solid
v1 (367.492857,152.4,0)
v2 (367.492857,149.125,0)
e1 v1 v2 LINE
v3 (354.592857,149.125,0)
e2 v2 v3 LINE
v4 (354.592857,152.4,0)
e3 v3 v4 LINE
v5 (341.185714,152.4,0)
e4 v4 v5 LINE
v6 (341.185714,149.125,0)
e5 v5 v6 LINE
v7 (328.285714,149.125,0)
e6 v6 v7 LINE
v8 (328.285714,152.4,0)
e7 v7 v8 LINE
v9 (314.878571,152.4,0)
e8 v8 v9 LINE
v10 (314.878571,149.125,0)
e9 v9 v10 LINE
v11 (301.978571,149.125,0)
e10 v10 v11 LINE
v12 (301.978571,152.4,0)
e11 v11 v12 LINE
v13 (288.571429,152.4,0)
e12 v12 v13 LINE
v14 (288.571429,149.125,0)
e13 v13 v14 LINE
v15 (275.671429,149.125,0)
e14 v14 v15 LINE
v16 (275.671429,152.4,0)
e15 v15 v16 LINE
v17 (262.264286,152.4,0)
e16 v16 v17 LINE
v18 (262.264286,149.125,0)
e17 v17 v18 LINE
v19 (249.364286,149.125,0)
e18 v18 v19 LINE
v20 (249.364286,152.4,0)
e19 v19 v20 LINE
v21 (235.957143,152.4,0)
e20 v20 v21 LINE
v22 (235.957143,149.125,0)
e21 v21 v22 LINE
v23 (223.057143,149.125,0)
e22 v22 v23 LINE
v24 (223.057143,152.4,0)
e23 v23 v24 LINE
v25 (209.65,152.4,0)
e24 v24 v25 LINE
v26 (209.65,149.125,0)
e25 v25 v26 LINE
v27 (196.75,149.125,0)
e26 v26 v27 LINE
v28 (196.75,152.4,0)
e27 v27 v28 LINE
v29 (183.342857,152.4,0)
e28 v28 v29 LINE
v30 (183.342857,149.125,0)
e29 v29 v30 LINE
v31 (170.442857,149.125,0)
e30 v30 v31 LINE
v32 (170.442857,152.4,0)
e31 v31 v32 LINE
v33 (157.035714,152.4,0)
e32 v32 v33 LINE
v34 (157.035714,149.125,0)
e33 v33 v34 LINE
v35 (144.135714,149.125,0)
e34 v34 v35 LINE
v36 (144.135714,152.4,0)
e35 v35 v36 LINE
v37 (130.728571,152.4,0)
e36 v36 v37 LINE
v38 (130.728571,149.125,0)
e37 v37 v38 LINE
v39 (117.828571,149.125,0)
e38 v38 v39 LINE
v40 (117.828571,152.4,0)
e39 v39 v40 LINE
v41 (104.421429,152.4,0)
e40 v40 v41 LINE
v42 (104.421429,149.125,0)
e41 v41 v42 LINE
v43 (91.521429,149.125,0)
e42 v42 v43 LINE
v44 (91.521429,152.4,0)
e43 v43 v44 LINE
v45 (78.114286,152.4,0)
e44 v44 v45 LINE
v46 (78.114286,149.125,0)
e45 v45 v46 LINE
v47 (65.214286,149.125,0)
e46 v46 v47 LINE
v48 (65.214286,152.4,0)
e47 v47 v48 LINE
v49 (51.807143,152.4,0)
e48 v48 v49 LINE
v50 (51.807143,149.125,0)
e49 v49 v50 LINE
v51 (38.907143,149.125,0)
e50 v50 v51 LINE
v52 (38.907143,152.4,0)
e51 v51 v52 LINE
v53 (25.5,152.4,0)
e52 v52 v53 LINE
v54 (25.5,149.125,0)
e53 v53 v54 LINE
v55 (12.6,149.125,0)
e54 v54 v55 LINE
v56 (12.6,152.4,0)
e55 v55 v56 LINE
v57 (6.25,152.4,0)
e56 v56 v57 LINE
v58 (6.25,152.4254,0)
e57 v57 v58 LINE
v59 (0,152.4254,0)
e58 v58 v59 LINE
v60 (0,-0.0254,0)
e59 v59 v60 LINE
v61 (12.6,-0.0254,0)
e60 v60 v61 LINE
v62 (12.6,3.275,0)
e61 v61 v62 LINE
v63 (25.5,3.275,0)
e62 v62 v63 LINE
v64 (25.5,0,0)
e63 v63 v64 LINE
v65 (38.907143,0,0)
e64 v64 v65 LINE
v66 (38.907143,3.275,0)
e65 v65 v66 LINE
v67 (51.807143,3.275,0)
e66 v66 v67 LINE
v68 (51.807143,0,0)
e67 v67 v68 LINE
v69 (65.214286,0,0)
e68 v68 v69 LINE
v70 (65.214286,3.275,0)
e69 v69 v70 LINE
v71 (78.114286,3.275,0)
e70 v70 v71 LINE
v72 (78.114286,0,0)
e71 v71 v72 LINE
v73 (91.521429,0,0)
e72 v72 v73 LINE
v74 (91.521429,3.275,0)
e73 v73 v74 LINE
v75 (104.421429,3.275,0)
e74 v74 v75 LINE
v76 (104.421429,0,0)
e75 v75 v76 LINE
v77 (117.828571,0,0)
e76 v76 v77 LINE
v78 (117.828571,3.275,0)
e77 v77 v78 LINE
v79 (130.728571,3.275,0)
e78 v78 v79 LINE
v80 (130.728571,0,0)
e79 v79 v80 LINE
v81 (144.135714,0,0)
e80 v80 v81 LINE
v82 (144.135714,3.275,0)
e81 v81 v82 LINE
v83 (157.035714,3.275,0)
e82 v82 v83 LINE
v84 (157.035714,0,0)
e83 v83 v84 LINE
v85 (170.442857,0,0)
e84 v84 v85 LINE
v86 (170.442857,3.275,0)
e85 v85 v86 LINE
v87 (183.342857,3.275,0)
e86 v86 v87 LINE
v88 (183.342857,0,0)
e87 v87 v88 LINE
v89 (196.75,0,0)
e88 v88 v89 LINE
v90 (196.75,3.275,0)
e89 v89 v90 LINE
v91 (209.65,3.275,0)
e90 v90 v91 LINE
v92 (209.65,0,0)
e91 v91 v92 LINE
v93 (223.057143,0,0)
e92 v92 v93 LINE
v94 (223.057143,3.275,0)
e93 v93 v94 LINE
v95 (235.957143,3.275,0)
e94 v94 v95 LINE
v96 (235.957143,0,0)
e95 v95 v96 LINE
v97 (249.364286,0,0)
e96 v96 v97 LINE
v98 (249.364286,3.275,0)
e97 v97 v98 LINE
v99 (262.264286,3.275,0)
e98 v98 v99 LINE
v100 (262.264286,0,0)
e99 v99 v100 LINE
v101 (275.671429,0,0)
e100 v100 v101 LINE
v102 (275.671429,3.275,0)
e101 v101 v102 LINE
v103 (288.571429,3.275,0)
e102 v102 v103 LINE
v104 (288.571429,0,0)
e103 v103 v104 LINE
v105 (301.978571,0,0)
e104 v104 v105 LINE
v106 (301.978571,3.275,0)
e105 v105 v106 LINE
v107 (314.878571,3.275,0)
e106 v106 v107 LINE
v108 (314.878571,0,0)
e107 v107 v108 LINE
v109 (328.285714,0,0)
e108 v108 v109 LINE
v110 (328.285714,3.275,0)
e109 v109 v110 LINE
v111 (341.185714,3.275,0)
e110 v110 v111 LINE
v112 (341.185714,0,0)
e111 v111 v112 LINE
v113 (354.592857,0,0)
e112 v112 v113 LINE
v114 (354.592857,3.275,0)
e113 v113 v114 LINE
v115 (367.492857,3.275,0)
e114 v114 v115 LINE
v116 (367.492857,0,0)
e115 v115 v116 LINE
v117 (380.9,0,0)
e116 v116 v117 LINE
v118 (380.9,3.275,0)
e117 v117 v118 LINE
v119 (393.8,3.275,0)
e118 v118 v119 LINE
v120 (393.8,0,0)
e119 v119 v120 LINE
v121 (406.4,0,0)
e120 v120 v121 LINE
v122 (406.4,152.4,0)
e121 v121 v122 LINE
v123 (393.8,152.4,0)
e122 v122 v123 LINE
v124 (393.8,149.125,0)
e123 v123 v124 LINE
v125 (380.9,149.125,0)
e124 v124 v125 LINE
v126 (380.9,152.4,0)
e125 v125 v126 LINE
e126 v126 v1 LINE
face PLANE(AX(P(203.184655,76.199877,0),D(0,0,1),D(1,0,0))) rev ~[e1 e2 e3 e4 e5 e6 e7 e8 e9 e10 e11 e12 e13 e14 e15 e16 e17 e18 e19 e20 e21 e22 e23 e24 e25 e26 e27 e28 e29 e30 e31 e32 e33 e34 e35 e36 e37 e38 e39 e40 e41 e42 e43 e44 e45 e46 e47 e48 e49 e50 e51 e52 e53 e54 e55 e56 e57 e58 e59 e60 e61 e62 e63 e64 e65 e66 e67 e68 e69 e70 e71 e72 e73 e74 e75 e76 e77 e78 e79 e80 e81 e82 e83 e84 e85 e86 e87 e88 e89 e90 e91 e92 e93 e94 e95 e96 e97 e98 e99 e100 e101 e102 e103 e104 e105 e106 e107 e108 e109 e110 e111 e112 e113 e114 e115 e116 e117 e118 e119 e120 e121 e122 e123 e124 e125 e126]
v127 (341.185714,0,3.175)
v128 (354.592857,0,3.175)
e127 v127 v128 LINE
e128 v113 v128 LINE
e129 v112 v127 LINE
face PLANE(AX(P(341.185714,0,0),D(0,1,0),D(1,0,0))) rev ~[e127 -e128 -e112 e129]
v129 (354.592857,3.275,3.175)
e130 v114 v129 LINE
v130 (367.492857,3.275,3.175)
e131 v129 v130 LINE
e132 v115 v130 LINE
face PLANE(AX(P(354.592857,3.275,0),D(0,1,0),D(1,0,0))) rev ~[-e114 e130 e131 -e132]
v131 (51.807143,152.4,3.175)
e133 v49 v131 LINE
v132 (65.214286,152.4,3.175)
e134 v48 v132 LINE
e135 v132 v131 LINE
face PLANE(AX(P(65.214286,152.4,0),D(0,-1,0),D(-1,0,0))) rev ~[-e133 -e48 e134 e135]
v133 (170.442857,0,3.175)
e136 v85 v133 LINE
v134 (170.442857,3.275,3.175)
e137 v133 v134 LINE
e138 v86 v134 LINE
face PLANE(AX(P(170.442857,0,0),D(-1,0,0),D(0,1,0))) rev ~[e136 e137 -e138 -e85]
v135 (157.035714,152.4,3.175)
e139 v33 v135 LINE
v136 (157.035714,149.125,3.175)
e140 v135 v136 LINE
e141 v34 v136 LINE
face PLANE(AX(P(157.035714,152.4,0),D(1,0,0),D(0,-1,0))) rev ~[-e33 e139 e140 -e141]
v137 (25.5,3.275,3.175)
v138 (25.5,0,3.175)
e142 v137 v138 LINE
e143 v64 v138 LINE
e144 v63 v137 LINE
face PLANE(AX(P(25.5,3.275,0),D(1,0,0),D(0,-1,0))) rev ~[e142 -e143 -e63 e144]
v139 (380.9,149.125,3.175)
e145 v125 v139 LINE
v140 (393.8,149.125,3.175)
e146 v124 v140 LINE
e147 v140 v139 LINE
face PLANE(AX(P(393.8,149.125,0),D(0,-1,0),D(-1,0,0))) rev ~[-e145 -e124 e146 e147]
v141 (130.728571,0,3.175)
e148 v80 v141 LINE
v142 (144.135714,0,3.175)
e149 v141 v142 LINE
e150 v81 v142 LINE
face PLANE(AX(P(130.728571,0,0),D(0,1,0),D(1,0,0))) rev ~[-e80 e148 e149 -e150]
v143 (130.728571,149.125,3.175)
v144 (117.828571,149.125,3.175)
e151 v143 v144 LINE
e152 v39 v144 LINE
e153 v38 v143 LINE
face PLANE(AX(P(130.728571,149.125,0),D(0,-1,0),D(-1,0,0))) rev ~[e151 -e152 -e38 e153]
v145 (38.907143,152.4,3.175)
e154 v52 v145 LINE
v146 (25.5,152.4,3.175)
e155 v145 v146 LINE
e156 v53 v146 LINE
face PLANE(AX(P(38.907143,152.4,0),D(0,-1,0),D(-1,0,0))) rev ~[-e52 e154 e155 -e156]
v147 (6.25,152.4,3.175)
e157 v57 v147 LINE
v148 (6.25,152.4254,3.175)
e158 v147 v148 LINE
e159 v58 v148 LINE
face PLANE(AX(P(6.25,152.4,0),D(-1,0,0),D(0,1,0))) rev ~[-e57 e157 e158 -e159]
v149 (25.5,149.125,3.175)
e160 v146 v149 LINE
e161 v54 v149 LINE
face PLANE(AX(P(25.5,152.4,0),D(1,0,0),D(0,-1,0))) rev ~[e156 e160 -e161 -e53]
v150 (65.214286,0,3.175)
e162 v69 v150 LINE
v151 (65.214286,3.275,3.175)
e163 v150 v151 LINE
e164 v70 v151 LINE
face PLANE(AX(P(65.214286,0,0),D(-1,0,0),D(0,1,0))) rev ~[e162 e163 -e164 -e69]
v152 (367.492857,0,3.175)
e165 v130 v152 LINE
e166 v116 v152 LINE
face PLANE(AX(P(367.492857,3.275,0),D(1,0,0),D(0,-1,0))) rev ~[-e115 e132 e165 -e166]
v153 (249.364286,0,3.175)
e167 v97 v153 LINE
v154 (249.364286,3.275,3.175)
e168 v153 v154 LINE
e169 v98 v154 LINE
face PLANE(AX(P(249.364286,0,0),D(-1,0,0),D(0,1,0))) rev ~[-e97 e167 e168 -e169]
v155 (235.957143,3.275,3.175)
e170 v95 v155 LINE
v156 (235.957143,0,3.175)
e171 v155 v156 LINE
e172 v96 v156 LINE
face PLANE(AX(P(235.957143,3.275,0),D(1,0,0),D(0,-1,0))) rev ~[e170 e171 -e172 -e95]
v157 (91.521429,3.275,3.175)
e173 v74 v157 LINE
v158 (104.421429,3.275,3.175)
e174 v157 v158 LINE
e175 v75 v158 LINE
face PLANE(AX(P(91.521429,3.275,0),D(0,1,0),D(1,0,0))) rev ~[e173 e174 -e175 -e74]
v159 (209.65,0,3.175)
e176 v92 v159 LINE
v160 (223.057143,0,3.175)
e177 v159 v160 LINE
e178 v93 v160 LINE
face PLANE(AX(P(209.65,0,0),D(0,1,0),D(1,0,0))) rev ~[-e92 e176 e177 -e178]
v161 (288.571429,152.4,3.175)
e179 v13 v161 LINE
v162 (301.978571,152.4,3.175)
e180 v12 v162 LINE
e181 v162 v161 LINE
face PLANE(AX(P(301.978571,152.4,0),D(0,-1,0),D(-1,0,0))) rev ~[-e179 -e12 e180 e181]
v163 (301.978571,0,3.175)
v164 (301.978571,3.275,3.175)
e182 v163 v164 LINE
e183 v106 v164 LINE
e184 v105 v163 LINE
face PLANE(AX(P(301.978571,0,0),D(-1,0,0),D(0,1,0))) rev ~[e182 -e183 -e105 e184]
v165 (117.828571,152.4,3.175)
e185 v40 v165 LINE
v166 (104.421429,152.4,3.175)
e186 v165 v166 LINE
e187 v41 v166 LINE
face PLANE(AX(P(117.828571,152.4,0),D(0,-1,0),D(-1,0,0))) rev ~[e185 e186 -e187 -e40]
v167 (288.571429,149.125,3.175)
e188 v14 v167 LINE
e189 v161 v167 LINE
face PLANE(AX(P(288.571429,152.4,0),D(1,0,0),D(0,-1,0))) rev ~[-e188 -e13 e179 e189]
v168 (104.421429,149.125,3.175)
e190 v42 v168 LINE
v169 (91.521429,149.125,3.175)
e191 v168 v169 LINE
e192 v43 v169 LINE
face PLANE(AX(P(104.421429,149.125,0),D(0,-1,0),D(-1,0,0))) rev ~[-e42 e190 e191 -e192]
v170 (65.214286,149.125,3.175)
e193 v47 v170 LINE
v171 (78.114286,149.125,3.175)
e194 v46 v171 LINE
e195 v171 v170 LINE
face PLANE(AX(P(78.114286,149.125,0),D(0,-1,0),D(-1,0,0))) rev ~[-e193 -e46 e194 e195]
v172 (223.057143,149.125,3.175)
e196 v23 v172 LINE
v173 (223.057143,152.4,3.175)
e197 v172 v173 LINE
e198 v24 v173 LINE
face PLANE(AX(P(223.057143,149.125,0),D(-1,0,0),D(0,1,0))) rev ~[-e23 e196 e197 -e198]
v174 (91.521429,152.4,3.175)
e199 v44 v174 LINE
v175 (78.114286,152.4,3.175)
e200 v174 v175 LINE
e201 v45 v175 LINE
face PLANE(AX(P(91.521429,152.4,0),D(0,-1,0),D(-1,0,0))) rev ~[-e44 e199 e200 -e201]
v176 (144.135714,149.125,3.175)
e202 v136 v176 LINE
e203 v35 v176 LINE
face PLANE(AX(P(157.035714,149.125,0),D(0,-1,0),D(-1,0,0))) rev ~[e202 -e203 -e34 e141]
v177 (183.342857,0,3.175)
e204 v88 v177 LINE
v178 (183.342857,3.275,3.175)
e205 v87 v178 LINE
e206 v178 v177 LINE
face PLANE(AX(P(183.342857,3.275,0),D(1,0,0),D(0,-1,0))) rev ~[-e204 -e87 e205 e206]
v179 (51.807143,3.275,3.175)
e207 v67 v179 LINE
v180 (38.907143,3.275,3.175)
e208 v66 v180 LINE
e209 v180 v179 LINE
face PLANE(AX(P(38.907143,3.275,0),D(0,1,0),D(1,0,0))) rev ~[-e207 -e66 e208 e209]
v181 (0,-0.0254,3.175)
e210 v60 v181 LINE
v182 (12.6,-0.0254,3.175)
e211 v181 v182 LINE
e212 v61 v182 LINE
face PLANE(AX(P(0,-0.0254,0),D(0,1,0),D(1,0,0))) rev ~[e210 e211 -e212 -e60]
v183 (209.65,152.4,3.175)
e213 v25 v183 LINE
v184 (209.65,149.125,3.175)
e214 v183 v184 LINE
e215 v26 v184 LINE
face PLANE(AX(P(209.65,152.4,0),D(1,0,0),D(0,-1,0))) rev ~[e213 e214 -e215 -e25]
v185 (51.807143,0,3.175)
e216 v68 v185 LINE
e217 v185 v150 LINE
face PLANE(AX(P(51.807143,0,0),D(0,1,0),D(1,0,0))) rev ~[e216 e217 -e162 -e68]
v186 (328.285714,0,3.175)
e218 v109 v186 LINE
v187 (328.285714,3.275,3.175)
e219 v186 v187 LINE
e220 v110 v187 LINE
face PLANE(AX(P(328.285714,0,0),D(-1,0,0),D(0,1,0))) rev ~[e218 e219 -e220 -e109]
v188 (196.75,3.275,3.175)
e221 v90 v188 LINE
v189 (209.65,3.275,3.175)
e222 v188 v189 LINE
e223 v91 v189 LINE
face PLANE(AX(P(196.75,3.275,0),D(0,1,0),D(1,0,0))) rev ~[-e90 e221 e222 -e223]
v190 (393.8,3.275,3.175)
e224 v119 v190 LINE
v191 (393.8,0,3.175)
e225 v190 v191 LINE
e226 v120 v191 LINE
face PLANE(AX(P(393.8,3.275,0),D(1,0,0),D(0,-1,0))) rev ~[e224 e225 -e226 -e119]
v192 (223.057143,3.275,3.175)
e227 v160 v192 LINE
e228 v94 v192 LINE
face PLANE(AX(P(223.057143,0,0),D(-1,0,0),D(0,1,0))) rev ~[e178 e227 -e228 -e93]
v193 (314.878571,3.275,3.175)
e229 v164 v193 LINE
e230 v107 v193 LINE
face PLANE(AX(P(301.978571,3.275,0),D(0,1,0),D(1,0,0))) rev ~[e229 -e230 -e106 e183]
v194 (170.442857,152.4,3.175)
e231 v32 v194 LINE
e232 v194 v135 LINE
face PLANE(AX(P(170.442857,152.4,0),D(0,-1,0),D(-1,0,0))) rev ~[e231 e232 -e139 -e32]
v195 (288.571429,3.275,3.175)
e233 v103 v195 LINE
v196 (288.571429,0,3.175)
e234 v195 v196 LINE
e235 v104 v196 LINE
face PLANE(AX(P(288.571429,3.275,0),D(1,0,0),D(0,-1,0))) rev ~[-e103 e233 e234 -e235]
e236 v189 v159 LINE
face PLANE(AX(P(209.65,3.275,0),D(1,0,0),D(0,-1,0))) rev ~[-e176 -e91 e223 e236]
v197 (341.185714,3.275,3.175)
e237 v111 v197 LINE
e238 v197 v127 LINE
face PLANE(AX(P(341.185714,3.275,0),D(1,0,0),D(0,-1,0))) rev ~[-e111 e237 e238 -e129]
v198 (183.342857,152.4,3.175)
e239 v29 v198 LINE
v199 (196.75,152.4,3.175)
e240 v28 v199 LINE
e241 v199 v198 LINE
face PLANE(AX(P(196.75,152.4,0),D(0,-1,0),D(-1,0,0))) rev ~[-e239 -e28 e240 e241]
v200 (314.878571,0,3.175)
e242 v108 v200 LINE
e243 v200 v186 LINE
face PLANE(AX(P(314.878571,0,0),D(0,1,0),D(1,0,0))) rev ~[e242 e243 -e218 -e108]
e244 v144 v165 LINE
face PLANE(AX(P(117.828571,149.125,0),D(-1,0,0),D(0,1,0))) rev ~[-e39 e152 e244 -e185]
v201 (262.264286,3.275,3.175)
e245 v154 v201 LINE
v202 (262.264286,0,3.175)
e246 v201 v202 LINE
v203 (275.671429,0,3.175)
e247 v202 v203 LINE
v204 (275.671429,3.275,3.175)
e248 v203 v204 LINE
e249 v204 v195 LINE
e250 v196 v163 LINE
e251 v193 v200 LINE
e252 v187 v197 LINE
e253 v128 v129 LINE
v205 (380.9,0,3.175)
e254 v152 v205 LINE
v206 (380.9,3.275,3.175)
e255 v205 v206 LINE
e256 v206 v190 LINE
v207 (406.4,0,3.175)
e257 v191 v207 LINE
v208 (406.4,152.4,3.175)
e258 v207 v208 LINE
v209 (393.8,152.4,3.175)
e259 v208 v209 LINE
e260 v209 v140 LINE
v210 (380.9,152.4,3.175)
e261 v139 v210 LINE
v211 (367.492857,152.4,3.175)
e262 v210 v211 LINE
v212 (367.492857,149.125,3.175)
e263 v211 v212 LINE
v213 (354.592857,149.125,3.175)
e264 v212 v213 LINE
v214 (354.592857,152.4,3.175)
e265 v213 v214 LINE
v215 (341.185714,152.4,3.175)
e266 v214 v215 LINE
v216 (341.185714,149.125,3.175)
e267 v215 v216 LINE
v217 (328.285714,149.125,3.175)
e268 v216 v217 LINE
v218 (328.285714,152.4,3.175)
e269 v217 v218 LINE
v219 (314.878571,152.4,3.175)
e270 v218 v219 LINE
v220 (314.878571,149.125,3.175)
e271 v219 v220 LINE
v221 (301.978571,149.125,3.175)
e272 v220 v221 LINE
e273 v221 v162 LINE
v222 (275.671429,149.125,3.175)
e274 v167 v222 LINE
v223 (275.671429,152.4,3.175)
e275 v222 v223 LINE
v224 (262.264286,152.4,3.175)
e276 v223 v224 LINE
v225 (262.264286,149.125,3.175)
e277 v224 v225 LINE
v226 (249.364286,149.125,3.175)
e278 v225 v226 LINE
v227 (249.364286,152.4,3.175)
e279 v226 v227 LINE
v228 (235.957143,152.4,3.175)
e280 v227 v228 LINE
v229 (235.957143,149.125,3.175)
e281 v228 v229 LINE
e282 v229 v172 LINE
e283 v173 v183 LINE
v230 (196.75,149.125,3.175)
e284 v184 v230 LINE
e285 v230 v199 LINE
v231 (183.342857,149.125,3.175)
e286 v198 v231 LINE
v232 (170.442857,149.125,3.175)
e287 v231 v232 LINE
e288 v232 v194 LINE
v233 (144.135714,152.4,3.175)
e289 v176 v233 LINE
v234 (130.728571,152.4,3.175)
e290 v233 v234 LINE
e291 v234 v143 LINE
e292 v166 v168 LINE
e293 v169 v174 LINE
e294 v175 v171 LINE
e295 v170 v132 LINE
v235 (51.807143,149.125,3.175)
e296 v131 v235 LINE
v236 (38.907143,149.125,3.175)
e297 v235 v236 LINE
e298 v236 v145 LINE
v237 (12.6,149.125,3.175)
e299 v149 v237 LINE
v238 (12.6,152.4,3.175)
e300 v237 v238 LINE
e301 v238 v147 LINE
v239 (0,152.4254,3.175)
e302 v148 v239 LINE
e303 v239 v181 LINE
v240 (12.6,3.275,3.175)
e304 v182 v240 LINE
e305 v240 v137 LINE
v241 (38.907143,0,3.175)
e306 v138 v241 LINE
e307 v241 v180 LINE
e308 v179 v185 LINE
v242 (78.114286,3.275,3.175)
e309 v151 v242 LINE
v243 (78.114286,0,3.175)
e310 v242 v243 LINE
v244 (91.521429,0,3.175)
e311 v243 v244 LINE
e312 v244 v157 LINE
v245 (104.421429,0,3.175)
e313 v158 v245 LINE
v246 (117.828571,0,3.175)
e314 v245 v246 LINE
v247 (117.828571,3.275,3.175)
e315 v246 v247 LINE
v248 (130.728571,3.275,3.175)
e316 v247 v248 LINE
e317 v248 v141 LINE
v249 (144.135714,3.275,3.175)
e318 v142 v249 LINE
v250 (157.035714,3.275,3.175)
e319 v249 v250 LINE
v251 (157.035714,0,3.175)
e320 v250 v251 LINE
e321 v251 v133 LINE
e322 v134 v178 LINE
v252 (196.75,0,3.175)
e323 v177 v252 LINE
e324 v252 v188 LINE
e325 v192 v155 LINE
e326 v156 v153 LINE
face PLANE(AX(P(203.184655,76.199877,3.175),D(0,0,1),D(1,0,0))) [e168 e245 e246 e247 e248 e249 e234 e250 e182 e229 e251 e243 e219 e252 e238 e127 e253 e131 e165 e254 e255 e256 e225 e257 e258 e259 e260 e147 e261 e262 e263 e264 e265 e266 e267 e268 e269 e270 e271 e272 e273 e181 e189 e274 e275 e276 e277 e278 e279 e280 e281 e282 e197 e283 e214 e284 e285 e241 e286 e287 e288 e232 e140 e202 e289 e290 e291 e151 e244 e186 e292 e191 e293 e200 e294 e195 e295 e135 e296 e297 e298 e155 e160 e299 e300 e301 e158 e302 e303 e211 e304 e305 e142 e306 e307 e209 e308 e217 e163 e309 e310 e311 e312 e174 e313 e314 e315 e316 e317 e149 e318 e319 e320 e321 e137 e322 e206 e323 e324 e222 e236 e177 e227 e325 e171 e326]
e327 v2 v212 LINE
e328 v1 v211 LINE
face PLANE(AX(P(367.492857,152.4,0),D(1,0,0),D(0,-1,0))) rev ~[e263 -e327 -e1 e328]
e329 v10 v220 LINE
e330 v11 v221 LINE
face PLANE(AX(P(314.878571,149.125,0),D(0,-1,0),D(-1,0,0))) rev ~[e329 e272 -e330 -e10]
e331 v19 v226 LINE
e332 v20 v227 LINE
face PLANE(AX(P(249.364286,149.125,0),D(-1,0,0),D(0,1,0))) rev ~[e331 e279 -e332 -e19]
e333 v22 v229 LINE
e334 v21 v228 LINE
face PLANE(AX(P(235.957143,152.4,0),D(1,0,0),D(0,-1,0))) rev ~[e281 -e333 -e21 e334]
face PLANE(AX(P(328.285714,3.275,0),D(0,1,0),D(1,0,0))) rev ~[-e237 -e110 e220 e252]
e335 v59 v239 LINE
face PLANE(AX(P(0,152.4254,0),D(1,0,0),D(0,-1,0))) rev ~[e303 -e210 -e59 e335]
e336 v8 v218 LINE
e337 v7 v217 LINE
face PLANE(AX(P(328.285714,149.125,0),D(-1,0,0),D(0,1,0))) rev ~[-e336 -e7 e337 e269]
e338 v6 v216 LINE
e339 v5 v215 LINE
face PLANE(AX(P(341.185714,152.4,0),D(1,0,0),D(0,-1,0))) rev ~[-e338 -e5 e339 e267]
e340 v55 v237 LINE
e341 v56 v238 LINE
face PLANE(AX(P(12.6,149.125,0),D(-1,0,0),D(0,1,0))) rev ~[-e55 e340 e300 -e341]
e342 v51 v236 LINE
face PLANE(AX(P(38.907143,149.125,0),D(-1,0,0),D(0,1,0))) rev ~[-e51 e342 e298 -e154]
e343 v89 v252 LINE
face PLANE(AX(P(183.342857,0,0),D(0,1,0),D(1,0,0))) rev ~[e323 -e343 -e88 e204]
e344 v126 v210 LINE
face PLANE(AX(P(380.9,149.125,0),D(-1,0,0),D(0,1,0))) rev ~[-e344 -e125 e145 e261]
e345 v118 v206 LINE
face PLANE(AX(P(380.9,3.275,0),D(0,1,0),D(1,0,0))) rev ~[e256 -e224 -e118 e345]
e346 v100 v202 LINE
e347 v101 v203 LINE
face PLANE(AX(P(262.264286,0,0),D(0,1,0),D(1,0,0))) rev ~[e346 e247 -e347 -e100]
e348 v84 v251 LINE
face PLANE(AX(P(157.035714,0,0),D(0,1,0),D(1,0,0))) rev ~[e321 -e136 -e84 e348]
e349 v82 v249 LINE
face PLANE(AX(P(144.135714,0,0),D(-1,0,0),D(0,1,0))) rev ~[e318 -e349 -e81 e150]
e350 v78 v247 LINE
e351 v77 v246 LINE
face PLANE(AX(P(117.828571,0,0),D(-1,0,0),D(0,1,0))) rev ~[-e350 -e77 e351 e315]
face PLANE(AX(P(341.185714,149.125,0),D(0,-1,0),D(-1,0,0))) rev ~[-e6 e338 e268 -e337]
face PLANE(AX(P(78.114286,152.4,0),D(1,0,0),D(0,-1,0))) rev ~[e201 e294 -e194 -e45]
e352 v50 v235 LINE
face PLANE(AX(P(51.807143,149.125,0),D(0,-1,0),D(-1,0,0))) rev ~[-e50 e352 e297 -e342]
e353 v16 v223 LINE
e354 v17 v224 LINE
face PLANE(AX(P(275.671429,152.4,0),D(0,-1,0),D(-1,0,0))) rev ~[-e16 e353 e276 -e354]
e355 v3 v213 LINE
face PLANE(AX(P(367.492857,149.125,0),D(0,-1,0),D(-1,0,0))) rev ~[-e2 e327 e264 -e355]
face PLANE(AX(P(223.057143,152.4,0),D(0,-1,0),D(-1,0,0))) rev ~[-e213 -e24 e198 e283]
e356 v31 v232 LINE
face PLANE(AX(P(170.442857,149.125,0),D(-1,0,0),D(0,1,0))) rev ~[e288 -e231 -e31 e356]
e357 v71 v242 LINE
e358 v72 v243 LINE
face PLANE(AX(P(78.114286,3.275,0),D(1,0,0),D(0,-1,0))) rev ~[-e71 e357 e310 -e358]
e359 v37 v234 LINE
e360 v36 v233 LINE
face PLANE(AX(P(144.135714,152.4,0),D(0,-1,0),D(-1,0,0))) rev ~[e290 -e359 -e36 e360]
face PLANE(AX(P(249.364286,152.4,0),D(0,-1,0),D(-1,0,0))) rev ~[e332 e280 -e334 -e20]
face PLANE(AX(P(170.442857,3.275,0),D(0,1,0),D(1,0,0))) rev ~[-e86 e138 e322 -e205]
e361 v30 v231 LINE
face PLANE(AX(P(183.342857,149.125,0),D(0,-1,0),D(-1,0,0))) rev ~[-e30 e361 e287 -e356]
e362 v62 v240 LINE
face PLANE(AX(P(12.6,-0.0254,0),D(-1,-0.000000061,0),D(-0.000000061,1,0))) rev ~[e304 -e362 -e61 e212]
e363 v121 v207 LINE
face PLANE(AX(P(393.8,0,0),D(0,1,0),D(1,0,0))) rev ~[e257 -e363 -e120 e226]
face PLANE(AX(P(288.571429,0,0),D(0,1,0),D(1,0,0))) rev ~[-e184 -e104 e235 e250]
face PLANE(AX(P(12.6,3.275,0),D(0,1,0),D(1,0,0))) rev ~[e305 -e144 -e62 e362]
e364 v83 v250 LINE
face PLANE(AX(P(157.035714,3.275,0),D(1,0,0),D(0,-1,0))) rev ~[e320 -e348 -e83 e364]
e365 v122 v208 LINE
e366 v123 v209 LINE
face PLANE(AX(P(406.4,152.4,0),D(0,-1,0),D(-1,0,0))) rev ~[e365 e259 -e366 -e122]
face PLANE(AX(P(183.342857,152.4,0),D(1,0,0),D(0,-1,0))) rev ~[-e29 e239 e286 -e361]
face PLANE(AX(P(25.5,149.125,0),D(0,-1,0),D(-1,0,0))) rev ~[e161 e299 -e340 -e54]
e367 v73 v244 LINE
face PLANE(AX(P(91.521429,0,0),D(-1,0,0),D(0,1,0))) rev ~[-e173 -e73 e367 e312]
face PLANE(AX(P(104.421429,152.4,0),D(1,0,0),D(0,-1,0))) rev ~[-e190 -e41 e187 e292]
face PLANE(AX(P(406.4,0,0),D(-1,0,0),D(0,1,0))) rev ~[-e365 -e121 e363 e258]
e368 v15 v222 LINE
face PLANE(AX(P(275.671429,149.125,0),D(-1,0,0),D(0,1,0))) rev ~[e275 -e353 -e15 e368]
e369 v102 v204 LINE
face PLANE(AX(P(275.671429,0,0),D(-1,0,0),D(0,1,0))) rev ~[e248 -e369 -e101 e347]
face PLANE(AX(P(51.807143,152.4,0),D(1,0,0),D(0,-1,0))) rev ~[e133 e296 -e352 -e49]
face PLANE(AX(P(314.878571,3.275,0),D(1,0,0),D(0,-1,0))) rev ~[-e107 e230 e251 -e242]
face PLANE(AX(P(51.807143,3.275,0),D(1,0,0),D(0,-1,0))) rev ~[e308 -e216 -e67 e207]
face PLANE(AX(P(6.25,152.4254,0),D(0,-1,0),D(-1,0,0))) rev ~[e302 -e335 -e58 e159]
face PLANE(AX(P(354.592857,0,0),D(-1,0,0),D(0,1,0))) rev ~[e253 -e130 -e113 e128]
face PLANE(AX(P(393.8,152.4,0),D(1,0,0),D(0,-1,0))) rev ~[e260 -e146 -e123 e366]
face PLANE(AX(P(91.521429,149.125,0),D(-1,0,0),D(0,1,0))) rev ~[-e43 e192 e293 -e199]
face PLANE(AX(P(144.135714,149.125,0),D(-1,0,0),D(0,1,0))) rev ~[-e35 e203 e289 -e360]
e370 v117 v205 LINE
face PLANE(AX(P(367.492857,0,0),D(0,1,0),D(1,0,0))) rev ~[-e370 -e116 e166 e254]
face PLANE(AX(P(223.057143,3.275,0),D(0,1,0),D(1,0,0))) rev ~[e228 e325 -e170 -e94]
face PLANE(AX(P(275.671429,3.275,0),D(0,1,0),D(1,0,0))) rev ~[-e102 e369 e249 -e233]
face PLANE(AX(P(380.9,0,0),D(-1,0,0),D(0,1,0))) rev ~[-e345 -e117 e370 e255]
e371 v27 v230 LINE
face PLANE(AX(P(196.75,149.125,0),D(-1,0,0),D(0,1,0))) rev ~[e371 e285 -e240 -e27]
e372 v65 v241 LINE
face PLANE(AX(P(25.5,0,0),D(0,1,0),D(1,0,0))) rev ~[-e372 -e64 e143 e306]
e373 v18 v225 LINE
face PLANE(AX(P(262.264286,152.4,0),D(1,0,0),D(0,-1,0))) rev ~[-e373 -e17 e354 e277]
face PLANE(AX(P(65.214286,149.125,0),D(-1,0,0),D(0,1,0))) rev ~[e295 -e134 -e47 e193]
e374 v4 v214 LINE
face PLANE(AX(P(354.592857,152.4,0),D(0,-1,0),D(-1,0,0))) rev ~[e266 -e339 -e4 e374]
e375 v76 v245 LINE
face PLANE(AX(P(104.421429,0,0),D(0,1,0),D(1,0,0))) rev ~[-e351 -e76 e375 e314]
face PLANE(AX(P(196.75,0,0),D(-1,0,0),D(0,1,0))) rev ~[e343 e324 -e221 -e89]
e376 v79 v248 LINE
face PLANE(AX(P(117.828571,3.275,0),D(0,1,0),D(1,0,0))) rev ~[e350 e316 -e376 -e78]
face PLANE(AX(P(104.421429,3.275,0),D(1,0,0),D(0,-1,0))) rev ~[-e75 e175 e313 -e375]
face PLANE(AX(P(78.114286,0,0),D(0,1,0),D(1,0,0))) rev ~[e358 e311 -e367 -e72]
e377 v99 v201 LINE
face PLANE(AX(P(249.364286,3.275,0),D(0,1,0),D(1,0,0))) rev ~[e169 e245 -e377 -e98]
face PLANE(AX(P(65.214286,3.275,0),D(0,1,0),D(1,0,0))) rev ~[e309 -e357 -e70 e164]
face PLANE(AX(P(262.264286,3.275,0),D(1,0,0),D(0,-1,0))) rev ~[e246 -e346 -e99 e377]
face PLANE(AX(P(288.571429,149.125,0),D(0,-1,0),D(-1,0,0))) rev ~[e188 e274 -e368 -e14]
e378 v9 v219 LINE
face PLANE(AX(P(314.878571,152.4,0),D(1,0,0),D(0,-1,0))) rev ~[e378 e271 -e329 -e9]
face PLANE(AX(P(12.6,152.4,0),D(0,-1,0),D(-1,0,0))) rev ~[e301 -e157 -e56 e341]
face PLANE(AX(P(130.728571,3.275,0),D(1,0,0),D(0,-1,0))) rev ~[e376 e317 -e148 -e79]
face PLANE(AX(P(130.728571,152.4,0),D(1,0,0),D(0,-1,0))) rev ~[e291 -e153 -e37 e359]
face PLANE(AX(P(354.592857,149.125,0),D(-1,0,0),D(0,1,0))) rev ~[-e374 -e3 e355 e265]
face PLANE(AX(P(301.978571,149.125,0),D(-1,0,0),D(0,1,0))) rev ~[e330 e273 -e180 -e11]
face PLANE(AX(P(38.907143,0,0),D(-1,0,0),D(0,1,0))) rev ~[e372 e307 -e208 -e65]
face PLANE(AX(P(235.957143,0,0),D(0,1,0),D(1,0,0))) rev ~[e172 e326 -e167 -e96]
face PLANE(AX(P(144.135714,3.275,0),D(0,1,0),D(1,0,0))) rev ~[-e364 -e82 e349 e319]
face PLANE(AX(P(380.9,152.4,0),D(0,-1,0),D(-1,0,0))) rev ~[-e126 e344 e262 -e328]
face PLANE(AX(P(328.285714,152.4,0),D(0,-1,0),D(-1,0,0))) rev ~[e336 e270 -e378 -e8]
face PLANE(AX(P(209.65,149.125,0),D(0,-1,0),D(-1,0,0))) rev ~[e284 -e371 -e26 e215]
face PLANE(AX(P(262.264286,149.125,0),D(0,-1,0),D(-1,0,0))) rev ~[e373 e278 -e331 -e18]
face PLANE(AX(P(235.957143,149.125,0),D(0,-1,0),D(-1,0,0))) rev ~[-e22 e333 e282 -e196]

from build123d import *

# Parameters (mm, degrees)
BOSS_EXTRUDE2_DEPTH = 3.175


with BuildPart() as part:
    # Sketch1 → Boss-Extrude2 (new body)
    with BuildSketch(Plane.XY):
        Polygon((393.8, 152.4), (393.8, 149.125), (380.9, 149.125), (380.9, 152.4), (367.492857143, 152.4), (367.492857143, 149.125), (354.592857143, 149.125), (354.592857143, 152.4), (341.185714286, 152.4), (341.185714286, 149.125), (328.285714286, 149.125), (328.285714286, 152.4), (314.878571429, 152.4), (314.878571429, 149.125), (301.978571429, 149.125), (301.978571429, 152.4), (288.571428571, 152.4), (288.571428571, 149.125), (275.671428571, 149.125), (275.671428571, 152.4), (262.264285714, 152.4), (262.264285714, 149.125), (249.364285714, 149.125), (249.364285714, 152.4), (235.957142857, 152.4), (235.957142857, 149.125), (223.057142857, 149.125), (223.057142857, 152.4), (209.65, 152.4), (209.65, 149.125), (196.75, 149.125), (196.75, 152.4), (183.342857143, 152.4), (183.342857143, 149.125), (170.442857143, 149.125), (170.442857143, 152.4), (157.035714286, 152.4), (157.035714286, 149.125), (144.135714286, 149.125), (144.135714286, 152.4), (130.728571429, 152.4), (130.728571429, 149.125), (117.828571429, 149.125), (117.828571429, 152.4), (104.421428571, 152.4), (104.421428571, 149.125), (91.521428571, 149.125), (91.521428571, 152.4), (78.114285714, 152.4), (78.114285714, 149.125), (65.214285714, 149.125), (65.214285714, 152.4), (51.807142857, 152.4), (51.807142857, 149.125), (38.907142857, 149.125), (38.907142857, 152.4), (25.5, 152.4), (25.5, 149.125), (12.6, 149.125), (12.6, 152.4), (6.2500002, 152.4), (6.2500002, 152.4254), (0, 152.4254), (0, -0.0254), (12.6000002, -0.0254), (12.6, 3.275), (25.5, 3.275), (25.5, 0), (38.907142857, 0), (38.907142857, 3.275), (51.807142857, 3.275), (51.807142857, 0), (65.214285714, 0), (65.214285714, 3.275), (78.114285714, 3.275), (78.114285714, 0), (91.521428571, 0), (91.521428571, 3.275), (104.421428571, 3.275), (104.421428571, 0), (117.828571429, 0), (117.828571429, 3.275), (130.728571429, 3.275), (130.728571429, 0), (144.135714286, 0), (144.135714286, 3.275), (157.035714286, 3.275), (157.035714286, 0), (170.442857143, 0), (170.442857143, 3.275), (183.342857143, 3.275), (183.342857143, 0), (196.75, 0), (196.75, 3.275), (209.65, 3.275), (209.65, 0), (223.057142857, 0), (223.057142857, 3.275), (235.957142857, 3.275), (235.957142857, 0), (249.364285714, 0), (249.364285714, 3.275), (262.264285714, 3.275), (262.264285714, 0), (275.671428571, 0), (275.671428571, 3.275), (288.571428571, 3.275), (288.571428571, 0), (301.978571429, 0), (301.978571429, 3.275), (314.878571429, 3.275), (314.878571429, 0), (328.285714286, 0), (328.285714286, 3.275), (341.185714286, 3.275), (341.185714286, 0), (354.592857143, 0), (354.592857143, 3.275), (367.492857143, 3.275), (367.492857143, 0), (380.9, 0), (380.9, 3.275), (393.8, 3.275), (393.8, 0), (406.4, 0), (406.4, 152.4), align=None)
    extrude(amount=BOSS_EXTRUDE2_DEPTH)


solid = part.part
